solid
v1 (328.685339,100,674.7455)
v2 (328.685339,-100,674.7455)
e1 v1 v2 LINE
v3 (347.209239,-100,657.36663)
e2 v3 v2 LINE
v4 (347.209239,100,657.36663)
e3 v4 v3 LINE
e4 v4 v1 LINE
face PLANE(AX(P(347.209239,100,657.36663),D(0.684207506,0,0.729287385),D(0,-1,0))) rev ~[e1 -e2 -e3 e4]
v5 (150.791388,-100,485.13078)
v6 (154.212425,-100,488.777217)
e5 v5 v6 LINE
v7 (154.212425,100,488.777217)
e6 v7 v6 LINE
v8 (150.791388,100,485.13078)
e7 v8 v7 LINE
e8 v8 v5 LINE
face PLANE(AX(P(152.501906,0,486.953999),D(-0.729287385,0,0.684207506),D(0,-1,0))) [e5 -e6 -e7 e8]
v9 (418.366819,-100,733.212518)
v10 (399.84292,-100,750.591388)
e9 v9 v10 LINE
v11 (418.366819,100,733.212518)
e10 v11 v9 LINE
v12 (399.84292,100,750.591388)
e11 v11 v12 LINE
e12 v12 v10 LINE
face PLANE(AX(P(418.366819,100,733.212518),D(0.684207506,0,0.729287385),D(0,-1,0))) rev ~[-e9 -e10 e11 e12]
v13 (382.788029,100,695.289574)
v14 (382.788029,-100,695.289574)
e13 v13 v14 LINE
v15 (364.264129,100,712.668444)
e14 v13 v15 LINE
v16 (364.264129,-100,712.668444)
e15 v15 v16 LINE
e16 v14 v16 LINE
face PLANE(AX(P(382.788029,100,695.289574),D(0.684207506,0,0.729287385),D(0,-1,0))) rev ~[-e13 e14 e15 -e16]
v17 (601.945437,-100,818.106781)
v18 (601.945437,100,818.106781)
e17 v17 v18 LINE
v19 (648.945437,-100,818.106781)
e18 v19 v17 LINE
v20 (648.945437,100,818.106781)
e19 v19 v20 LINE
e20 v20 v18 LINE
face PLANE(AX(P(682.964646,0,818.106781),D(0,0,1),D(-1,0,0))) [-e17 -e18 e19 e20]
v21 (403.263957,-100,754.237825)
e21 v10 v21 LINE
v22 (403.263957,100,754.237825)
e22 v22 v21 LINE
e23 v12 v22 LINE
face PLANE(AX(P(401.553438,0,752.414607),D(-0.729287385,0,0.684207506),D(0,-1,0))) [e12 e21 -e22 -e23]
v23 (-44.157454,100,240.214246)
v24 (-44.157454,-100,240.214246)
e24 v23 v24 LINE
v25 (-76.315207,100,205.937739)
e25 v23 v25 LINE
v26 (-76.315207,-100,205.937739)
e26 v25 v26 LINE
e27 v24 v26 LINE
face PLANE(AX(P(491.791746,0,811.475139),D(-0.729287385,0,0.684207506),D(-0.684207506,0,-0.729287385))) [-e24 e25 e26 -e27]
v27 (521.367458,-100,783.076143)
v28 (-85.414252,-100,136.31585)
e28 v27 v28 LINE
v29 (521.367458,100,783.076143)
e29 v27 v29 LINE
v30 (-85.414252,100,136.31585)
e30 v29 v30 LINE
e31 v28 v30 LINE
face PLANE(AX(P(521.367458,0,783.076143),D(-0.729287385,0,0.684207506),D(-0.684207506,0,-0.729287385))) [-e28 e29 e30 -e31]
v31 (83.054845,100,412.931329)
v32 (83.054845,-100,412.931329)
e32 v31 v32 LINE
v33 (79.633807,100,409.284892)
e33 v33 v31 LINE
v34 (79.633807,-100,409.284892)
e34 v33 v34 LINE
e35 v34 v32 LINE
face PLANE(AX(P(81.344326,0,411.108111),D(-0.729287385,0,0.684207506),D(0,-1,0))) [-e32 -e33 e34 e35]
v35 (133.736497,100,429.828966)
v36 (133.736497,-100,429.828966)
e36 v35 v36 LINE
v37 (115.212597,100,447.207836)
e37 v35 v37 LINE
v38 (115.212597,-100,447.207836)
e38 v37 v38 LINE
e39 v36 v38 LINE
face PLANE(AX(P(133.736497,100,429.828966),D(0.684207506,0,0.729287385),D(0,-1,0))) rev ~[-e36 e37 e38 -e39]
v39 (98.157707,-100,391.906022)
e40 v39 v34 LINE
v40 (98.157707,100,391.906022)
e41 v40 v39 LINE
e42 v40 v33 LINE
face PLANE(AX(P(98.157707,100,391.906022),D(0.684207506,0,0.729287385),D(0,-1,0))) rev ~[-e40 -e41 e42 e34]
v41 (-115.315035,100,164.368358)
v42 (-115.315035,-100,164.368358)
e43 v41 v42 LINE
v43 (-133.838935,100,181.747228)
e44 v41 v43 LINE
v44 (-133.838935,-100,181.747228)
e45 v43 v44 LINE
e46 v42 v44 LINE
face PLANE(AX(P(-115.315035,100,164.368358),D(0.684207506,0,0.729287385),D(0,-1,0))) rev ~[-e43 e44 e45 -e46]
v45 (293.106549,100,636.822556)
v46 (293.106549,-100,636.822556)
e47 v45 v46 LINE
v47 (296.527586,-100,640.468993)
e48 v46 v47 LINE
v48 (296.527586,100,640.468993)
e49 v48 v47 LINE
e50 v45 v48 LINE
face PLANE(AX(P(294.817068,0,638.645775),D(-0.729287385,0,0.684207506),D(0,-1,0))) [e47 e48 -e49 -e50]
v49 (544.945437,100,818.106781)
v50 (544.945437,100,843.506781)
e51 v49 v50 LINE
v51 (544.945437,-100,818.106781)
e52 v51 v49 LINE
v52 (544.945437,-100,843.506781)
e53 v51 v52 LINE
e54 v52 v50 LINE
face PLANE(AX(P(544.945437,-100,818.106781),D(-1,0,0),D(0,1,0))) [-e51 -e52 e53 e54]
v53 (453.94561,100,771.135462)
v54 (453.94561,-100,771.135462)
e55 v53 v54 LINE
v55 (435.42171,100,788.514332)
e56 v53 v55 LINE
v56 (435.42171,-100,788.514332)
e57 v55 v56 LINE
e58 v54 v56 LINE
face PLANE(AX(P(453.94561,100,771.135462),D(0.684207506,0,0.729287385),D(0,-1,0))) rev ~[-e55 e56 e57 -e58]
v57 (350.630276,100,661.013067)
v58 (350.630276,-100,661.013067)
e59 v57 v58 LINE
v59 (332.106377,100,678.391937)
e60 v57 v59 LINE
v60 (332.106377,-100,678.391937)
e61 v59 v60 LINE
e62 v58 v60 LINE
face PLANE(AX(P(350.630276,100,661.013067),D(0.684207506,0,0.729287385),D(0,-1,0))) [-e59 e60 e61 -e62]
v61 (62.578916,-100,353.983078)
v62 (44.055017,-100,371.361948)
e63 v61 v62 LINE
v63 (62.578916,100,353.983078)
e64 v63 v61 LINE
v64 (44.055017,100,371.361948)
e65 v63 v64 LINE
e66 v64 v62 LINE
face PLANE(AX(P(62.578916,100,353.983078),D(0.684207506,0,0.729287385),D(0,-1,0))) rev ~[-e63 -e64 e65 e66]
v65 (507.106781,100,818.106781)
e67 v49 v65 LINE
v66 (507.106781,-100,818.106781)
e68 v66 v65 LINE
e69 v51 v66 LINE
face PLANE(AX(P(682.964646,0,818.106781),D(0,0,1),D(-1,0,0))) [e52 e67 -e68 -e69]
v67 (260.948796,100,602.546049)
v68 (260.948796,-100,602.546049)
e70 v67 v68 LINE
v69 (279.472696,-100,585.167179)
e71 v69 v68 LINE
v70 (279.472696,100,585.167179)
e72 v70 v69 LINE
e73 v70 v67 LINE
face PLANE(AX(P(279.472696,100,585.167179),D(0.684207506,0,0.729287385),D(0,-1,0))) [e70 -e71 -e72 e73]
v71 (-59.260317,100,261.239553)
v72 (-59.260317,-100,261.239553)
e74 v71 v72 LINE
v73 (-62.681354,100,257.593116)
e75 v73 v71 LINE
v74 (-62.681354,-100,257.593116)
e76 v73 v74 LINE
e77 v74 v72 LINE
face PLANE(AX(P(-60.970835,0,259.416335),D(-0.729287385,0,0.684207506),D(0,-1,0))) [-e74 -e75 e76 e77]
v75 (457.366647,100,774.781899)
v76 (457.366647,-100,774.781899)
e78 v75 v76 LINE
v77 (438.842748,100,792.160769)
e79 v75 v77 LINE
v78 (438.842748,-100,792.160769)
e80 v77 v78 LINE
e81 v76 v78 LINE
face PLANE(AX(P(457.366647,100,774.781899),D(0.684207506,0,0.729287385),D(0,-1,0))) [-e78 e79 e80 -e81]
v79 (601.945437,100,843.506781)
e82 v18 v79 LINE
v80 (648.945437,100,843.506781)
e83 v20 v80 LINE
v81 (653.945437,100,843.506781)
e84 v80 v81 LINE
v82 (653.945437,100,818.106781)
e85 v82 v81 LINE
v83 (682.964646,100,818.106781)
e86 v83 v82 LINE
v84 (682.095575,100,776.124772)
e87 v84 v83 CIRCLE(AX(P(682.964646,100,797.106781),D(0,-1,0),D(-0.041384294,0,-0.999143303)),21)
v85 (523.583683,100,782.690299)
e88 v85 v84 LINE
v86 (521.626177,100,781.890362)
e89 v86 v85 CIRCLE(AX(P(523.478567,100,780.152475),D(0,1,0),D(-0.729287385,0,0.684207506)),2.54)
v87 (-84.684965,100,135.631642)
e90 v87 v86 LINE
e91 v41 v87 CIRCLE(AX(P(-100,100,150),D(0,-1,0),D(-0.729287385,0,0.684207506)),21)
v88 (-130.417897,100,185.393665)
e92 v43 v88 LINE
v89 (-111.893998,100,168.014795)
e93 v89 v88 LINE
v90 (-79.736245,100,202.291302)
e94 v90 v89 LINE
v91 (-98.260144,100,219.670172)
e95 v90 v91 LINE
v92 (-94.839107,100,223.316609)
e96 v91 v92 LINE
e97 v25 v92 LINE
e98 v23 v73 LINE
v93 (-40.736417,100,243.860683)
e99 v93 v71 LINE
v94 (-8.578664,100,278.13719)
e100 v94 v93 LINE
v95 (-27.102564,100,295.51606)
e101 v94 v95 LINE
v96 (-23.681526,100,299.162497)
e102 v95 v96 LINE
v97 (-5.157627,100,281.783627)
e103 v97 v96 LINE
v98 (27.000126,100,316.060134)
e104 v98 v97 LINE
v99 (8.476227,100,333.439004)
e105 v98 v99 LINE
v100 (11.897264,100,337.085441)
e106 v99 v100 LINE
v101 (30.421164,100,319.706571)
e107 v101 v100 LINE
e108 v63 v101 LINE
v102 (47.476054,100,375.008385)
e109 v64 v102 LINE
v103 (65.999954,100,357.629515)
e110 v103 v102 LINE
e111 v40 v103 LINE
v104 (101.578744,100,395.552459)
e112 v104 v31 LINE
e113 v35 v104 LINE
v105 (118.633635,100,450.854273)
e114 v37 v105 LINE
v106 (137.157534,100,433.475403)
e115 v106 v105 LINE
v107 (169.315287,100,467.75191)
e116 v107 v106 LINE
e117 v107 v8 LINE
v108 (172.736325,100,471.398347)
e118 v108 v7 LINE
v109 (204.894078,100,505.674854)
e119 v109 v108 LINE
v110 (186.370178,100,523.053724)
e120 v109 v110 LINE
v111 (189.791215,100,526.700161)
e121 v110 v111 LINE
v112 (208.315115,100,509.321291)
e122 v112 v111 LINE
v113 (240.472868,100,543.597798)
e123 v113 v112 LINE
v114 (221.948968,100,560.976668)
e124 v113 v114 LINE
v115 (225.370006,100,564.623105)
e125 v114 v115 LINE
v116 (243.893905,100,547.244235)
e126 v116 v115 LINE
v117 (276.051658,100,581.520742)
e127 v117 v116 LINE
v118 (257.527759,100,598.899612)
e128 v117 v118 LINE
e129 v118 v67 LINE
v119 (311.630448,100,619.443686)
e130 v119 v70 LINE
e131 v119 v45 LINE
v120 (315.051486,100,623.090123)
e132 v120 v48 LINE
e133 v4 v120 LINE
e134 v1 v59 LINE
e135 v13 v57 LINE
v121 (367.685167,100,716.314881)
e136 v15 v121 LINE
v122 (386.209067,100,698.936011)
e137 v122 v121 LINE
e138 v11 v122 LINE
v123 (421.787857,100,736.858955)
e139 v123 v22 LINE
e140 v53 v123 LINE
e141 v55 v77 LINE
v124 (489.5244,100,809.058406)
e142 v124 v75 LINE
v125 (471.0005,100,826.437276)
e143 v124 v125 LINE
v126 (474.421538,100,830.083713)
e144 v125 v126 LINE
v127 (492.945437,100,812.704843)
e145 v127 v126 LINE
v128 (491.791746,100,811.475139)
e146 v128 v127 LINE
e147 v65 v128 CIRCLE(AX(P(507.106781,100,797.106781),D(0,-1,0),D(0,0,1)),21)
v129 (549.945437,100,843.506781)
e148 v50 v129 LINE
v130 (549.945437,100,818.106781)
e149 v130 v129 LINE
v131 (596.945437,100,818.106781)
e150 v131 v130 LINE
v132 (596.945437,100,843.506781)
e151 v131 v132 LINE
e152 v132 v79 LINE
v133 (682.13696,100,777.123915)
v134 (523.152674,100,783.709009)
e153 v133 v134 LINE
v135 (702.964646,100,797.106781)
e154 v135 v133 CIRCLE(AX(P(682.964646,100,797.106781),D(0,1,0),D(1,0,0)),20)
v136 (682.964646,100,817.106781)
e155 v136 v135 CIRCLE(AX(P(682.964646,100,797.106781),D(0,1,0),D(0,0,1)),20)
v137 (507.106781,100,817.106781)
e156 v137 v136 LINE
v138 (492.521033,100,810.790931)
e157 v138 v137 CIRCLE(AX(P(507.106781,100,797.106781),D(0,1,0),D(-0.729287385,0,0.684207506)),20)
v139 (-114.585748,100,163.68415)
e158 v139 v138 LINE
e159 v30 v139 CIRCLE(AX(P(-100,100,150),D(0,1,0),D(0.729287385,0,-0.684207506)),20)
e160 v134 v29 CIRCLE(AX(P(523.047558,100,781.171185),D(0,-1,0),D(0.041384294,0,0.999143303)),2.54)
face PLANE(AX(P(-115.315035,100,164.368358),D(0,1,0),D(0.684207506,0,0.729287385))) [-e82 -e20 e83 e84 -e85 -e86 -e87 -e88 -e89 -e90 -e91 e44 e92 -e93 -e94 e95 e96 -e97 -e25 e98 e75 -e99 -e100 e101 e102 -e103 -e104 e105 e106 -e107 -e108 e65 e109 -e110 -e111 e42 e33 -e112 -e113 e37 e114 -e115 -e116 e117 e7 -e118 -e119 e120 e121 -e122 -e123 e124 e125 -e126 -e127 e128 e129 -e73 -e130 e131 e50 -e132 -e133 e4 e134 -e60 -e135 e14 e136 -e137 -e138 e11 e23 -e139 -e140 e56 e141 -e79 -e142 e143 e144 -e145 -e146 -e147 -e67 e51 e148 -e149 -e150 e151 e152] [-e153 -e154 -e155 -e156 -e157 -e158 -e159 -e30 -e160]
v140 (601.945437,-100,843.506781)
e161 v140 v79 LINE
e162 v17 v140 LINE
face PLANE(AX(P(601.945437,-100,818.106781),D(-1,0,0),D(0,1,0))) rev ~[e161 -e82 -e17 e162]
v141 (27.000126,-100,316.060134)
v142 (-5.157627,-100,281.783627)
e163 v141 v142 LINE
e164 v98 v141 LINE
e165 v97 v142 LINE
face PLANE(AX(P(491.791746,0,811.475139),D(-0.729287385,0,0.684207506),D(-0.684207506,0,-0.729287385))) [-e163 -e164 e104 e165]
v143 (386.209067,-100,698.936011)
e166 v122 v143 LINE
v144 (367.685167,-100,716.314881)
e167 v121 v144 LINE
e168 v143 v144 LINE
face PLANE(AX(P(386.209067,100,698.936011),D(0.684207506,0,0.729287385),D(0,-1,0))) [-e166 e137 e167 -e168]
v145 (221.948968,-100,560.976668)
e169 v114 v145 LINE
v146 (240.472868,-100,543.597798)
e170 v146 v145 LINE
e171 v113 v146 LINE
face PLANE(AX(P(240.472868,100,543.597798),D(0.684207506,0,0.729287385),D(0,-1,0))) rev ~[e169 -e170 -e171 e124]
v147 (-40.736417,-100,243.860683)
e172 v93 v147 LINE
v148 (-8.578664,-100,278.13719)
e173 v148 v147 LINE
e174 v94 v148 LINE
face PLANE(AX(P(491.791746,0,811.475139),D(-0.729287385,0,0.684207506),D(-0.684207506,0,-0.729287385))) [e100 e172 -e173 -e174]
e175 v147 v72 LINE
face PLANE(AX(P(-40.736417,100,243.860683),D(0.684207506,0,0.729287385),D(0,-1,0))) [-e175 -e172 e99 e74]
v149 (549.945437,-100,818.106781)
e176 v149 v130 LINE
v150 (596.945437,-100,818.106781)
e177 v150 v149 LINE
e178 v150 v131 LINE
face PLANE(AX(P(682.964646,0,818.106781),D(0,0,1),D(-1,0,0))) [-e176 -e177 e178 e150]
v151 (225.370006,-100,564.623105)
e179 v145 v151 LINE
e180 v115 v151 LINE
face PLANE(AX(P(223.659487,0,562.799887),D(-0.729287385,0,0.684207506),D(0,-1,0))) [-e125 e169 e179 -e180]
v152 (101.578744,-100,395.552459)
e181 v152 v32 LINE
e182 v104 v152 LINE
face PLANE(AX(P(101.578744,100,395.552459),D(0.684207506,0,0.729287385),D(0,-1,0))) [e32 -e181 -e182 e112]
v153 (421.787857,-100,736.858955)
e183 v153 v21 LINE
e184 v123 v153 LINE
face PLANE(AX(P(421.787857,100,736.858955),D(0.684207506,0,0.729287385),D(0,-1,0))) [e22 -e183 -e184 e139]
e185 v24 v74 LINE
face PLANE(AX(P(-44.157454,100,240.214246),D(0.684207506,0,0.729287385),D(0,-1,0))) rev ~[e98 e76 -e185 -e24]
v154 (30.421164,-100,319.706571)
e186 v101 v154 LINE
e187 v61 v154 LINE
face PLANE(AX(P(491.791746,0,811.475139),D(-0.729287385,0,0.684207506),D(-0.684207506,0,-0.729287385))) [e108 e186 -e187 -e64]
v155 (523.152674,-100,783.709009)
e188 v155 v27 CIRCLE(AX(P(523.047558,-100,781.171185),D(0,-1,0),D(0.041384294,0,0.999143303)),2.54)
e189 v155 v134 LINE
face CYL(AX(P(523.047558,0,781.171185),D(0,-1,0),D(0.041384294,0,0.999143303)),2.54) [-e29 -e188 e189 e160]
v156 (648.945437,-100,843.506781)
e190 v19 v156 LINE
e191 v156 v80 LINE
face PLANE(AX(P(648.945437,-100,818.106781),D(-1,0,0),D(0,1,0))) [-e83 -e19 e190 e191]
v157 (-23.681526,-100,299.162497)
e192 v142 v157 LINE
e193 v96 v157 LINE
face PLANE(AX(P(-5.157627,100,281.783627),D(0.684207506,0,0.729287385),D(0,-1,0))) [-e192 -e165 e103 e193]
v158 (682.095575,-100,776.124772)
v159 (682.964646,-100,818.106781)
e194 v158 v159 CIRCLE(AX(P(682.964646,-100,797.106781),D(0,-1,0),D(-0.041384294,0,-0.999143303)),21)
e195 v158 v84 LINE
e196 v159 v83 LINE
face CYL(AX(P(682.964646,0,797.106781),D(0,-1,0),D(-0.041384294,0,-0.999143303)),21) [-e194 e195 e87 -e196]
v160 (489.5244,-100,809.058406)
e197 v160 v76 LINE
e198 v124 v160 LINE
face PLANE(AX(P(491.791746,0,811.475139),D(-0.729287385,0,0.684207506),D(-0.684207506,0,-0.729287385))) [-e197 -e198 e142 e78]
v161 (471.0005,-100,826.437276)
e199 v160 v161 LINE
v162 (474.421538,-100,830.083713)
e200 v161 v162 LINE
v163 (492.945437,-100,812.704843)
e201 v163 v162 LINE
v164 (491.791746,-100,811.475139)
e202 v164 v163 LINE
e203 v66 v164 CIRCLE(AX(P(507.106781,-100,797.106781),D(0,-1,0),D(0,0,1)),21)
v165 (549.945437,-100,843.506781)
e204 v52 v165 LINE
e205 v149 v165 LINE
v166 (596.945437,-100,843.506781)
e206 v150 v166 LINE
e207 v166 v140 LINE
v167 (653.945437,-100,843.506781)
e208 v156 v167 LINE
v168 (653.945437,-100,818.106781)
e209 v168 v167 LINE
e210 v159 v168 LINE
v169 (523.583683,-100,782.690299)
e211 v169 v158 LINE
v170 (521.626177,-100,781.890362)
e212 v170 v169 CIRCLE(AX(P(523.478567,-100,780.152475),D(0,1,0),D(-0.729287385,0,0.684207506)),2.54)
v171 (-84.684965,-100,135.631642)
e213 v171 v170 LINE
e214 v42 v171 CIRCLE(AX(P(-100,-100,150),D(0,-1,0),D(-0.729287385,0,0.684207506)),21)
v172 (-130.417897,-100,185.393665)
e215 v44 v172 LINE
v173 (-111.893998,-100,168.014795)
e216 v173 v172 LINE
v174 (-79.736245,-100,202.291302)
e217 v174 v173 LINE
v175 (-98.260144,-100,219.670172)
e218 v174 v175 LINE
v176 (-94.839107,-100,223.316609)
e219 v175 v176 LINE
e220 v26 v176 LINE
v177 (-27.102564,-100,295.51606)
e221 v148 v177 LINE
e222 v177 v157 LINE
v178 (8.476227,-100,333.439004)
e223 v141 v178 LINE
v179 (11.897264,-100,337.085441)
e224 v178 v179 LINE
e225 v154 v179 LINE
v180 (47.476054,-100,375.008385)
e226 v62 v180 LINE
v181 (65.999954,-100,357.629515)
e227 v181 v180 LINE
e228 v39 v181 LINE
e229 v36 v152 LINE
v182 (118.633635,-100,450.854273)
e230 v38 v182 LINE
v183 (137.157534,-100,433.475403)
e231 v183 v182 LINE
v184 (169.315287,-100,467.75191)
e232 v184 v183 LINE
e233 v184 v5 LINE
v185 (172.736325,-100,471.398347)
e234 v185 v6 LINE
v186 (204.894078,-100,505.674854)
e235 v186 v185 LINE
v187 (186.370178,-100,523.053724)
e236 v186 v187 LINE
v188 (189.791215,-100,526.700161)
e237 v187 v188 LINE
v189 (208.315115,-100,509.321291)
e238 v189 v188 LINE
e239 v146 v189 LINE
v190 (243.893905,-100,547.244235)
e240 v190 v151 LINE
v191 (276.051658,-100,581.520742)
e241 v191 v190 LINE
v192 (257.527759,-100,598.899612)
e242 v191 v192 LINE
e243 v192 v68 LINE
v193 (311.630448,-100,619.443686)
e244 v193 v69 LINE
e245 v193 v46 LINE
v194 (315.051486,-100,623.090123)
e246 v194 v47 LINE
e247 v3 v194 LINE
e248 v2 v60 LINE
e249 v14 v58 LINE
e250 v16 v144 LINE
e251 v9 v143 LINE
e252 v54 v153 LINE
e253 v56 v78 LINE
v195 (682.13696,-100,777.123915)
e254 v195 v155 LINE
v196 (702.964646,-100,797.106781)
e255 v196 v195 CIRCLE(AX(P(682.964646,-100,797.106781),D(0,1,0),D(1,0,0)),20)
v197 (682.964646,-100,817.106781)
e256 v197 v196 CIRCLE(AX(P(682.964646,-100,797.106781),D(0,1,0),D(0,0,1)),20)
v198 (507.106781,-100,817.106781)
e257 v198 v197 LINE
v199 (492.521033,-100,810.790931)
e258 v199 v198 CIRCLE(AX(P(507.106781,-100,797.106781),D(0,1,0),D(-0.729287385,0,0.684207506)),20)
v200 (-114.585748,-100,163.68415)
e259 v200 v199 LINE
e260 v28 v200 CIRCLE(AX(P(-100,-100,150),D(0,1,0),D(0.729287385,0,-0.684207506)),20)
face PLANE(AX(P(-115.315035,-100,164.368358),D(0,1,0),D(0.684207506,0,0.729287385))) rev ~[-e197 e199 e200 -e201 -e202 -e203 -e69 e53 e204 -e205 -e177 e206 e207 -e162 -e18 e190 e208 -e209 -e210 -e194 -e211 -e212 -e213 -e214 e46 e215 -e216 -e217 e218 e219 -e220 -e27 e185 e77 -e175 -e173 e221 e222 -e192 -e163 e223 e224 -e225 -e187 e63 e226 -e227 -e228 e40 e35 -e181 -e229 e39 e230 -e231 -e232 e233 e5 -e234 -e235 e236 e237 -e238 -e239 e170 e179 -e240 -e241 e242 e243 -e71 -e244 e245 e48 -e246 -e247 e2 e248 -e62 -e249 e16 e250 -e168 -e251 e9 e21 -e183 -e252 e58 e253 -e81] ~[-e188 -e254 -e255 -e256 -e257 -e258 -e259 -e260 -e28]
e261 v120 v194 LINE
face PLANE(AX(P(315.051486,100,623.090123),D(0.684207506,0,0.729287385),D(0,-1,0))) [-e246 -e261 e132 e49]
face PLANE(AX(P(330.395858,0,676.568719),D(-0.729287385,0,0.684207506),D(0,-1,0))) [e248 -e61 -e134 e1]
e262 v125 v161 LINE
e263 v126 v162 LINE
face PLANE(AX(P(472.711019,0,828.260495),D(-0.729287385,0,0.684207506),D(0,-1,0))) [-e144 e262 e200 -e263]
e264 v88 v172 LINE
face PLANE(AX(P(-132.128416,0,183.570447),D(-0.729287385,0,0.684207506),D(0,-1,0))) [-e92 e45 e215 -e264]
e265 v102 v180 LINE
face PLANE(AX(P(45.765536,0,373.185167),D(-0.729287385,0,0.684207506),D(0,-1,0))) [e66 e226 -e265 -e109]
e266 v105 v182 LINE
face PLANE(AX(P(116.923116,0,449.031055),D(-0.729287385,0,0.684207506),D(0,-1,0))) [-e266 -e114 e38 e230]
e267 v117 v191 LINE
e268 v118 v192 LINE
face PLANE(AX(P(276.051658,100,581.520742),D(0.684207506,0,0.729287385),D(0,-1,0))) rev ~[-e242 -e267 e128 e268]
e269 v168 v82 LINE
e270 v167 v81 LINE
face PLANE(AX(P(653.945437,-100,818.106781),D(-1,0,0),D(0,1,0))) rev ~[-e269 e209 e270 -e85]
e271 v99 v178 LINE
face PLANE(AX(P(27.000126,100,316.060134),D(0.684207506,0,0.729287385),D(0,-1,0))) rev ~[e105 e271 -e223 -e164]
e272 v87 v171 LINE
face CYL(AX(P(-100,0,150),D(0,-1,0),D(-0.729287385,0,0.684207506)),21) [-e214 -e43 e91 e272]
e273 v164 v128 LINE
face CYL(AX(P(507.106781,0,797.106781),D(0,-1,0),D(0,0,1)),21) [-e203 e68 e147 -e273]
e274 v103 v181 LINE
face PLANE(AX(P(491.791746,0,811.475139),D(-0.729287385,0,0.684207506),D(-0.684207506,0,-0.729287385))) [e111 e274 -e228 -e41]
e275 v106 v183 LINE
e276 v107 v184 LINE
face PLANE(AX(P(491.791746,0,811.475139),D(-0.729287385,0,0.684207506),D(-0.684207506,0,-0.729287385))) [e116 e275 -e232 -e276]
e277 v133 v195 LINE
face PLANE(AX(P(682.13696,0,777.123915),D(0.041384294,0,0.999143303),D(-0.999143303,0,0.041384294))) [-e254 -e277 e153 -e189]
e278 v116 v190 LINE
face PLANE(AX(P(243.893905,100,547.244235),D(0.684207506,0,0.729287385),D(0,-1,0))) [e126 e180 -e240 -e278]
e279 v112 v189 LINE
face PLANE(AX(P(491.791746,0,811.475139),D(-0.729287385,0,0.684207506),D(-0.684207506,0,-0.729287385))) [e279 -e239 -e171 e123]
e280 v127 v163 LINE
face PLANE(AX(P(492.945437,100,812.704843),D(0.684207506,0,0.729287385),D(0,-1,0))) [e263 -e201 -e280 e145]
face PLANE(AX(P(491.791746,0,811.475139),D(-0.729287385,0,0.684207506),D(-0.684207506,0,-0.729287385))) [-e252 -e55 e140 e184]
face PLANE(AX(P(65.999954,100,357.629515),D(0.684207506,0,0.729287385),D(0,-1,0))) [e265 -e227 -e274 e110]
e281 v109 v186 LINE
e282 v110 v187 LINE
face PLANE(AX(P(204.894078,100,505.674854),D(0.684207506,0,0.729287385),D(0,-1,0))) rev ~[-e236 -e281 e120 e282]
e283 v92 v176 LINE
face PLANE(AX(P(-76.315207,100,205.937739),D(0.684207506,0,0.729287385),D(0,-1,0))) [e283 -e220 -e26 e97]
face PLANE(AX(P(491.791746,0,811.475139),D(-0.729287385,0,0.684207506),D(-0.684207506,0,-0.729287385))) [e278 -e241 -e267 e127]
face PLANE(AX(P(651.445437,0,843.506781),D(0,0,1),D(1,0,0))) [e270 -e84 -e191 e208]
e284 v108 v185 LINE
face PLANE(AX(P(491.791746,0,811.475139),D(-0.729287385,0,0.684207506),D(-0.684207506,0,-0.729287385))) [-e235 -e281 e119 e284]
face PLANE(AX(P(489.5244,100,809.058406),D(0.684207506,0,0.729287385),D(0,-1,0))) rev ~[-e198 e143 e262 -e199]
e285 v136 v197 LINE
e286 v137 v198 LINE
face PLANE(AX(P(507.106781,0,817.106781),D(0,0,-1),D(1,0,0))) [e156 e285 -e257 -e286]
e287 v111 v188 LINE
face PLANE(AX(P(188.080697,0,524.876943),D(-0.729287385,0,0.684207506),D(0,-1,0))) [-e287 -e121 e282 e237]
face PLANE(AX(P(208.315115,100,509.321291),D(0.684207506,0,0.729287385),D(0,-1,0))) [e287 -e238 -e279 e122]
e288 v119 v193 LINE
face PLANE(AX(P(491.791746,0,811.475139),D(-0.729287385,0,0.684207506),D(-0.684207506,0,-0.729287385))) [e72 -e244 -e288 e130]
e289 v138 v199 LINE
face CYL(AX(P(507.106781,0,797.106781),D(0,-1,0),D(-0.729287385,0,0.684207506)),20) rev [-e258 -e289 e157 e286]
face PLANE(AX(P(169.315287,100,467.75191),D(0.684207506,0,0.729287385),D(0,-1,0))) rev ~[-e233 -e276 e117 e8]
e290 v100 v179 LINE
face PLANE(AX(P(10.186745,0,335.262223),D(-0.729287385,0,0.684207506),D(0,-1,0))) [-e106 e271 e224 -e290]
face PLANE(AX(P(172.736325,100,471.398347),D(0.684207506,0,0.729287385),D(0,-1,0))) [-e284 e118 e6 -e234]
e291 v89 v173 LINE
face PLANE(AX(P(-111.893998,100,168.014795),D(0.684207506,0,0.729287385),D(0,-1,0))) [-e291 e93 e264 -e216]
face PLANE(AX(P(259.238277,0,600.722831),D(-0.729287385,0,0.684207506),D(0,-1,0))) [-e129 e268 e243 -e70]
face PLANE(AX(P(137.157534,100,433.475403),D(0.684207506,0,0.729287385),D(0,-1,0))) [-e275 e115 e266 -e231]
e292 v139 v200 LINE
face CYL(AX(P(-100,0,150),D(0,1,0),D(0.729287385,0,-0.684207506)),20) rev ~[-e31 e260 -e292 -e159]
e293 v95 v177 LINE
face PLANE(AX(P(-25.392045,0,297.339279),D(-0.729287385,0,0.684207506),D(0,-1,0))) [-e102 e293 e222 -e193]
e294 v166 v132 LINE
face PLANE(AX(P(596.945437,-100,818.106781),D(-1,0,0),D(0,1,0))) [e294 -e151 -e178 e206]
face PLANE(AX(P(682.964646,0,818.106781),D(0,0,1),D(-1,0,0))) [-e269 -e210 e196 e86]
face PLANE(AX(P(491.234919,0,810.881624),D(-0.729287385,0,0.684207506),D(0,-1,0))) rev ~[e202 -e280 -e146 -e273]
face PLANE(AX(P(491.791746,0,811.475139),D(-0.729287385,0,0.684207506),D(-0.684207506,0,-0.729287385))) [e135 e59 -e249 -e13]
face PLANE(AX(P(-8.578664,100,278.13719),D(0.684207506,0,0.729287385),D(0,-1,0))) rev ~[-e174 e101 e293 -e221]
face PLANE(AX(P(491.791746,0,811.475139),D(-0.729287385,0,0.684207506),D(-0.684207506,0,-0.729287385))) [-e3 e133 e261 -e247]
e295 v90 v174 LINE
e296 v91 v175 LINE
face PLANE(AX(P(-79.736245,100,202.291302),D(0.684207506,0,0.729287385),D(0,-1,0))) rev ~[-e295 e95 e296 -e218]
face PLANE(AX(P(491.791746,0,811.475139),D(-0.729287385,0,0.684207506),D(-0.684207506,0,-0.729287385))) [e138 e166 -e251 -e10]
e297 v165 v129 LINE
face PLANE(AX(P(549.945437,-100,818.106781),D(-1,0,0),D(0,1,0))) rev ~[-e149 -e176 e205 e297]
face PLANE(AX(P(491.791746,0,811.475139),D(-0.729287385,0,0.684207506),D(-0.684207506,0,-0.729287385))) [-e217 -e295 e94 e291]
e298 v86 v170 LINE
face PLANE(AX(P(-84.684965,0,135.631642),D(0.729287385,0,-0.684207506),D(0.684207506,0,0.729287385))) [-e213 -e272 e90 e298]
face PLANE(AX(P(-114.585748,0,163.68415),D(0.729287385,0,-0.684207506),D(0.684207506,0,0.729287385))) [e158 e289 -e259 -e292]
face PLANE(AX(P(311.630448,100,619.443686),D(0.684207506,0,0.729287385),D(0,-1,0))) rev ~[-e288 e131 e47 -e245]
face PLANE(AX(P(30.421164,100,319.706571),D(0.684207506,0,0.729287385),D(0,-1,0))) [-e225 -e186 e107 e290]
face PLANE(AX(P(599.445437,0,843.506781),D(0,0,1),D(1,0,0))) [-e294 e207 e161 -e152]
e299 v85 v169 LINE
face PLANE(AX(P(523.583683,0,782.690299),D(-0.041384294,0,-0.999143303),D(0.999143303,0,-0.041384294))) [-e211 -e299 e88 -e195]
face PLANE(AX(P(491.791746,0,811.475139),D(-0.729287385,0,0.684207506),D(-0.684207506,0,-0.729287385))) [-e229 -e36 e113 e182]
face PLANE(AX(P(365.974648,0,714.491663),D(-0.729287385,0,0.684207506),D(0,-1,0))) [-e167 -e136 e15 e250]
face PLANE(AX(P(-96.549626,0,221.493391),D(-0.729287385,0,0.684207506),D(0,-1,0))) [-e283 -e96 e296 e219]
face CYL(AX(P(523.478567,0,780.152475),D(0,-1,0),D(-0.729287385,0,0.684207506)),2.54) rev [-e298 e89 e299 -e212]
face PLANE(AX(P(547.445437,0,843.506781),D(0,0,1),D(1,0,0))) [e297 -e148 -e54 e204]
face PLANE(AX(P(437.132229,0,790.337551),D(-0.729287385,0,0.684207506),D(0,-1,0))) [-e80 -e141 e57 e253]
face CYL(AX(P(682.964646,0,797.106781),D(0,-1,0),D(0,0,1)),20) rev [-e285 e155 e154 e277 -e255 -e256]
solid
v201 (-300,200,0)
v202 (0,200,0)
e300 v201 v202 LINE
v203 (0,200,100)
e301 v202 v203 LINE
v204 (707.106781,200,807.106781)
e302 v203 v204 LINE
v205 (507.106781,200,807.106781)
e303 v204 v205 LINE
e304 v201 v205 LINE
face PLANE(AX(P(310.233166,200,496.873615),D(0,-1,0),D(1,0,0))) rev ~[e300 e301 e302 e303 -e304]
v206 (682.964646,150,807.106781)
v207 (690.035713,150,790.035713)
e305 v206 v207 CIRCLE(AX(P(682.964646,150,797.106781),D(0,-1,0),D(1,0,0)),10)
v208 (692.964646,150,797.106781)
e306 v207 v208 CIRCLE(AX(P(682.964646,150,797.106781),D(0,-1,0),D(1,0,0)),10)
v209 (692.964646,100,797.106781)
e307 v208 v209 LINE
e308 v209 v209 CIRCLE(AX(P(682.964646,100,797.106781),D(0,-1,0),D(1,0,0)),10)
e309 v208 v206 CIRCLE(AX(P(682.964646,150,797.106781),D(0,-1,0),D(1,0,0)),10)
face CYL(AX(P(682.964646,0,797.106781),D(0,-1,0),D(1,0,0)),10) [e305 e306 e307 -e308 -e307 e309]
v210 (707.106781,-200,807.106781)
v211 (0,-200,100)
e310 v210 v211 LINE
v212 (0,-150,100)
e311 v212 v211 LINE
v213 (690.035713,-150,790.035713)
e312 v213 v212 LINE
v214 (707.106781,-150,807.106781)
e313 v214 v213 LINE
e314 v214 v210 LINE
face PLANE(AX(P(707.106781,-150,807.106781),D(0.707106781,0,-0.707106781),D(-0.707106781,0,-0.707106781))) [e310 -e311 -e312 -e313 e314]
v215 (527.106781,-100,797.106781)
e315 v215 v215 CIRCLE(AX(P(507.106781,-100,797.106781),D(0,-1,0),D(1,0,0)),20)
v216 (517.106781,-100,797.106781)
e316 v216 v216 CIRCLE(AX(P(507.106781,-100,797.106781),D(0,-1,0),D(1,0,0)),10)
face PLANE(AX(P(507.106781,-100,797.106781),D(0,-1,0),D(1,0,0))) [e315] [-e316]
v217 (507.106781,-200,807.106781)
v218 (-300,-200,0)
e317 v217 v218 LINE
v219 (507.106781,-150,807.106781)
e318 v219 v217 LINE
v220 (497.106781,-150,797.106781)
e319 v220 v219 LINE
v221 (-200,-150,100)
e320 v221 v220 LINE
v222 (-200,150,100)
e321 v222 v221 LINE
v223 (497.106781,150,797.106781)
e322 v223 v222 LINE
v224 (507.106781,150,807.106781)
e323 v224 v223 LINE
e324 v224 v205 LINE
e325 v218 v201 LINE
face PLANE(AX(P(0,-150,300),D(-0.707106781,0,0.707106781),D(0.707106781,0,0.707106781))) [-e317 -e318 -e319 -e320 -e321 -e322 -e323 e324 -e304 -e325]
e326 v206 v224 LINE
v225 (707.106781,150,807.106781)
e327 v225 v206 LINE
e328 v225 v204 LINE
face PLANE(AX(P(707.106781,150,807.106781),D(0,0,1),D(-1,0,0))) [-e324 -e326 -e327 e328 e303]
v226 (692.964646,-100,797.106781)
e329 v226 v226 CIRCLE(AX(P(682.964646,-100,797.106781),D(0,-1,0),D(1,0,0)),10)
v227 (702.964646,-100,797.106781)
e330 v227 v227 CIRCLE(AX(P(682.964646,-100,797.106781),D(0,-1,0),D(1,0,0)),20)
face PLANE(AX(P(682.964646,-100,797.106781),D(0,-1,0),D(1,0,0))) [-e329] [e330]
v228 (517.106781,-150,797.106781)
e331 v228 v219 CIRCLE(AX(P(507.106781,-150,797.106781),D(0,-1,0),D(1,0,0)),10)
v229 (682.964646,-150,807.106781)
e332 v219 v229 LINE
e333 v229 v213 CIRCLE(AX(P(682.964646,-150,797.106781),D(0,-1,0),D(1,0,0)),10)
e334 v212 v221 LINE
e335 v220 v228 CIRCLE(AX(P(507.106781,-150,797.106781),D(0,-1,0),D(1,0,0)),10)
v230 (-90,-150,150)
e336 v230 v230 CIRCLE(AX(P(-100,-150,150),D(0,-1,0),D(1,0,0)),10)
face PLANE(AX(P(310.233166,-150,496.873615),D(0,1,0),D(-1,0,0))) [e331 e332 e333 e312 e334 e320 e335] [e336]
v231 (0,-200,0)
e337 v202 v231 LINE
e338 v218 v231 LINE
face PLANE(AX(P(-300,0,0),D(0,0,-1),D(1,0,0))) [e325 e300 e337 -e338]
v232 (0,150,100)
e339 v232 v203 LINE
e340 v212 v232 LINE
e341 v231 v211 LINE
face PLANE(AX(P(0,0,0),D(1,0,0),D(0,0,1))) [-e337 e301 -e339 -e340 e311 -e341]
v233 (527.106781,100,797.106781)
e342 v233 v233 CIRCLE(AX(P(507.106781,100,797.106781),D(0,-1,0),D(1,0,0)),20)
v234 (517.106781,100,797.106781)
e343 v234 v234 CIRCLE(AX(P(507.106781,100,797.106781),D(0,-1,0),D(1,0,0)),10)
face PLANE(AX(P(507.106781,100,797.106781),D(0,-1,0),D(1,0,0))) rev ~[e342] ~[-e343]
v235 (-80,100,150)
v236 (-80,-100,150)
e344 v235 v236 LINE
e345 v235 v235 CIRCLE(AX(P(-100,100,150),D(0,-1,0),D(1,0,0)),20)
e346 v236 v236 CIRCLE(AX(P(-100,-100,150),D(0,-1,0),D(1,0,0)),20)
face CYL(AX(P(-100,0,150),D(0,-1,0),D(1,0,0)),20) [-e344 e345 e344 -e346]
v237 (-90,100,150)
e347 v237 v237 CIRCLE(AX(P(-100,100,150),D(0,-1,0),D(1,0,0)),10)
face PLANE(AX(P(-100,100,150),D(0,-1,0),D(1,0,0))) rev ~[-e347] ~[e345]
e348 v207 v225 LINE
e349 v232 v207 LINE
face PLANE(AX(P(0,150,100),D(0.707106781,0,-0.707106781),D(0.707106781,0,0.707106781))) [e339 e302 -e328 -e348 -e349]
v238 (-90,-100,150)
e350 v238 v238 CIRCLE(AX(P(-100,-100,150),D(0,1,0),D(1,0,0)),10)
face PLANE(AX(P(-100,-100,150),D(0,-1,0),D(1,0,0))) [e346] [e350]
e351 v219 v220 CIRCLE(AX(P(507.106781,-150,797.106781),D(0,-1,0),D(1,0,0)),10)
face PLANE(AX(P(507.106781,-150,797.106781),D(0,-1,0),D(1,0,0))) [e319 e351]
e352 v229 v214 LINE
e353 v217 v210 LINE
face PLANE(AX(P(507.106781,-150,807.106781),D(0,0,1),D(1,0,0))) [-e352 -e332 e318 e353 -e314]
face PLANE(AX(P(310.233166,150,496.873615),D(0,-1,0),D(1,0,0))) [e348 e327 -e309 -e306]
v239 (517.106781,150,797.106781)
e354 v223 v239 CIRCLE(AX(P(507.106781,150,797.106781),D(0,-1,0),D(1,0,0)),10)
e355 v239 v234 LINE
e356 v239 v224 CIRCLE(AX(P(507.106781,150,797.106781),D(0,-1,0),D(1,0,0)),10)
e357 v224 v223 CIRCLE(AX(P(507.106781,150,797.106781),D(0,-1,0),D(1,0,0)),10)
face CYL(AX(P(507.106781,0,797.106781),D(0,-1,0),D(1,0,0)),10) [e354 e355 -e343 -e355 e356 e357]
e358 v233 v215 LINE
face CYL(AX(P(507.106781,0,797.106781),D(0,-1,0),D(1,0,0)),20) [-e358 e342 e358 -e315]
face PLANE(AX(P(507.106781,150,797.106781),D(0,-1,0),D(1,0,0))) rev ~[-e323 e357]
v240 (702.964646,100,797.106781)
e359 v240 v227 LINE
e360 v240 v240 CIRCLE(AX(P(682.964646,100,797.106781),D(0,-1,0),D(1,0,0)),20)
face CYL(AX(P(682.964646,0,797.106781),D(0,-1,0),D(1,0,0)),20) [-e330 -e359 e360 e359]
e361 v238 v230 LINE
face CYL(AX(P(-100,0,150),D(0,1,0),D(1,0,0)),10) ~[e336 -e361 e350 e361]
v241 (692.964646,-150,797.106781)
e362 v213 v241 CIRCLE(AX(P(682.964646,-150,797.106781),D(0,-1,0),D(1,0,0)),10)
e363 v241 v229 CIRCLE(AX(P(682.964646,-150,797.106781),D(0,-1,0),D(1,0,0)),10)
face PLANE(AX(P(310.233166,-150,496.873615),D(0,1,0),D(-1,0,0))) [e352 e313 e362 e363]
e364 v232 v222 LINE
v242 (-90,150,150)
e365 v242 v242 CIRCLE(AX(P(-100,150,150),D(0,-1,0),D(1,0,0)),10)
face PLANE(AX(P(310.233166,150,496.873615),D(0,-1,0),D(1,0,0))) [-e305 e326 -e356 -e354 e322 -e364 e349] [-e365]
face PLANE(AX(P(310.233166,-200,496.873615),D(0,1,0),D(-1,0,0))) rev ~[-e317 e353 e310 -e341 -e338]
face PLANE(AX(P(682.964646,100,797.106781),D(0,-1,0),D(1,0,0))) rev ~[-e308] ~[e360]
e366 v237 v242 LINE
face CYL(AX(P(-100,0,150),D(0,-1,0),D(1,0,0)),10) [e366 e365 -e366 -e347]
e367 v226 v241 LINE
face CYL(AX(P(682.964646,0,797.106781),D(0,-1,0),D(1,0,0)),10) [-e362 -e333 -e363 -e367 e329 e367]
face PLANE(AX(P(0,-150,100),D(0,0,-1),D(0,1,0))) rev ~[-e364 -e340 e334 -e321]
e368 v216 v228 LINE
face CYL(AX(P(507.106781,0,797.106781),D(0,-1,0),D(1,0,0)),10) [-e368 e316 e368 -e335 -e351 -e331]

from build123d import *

# Parameters (mm, degrees)
F1_DEPTH  = 200
F2_W      = 300
F2_H      = 200
F3_DEPTH  = 228.6
F5_DEPTH  = 50
F7_DEPTH  = 50
F8_R      = 10
F9_DEPTH  = 150
F10_R     = 20
F11_DEPTH = 100
F12_R     = 10
F13_DEPTH = 150
F14_R     = 20
F15_DEPTH = 100
F17_DEPTH = 100
F18_W     = 200
F18_H     = 5
F19_DEPTH = 25.4
F20_W     = 5
F20_H     = 200
F21_DEPTH = 25.4


with BuildPart() as f1:
    # F0 (on Front) → F1 (new body, symmetric)
    with BuildSketch(Plane.XZ):
        Polygon((-300, 0), (0, 0), (0, 300), align=None)
    extrude(amount=F1_DEPTH, both=True)

    # F2 (on face) → F3 (cut)
    with BuildSketch(Plane.YZ):
        with Locations((0, 200)):
            Rectangle(F2_W, F2_H)
    extrude(amount=-F3_DEPTH, mode=Mode.SUBTRACT)

    # F4 (on face) → F5 (join, through all)
    with BuildSketch(Plane.XZ.offset(-150)):
        Polygon((0, 300), (0, 100), (707.1067811865, 807.1067811865), (507.1067811865, 807.1067811865), align=None)
    extrude(amount=-F5_DEPTH)

    # F6 (on face) → F7 (join, through all)
    with BuildSketch(Plane(origin=(0, -150, 0), x_dir=(-1, 0, 0), z_dir=(0, 1, 0))):
        Polygon((-707.1067811865, 807.1067811865), (0, 100), (0, 300), (-507.1067811865, 807.1067811865), align=None)
    extrude(amount=-F7_DEPTH)

    # F8 (on Front) → F9 (join, symmetric)
    with BuildSketch(Plane.XZ):
        with Locations((682.9646455628, 797.1067811865)):
            Circle(F8_R)
    extrude(amount=F9_DEPTH, both=True)

    # F10 (on Front) → F11 (join, symmetric)
    with BuildSketch(Plane.XZ):
        with Locations((682.9646455628, 797.1067811865)):
            Circle(F10_R)
    extrude(amount=F11_DEPTH, both=True)

    # F12 (on Front) → F13 (join, symmetric)
    with BuildSketch(Plane.XZ):
        with Locations((-100, 150)):
            Circle(F12_R)
        with Locations((507.1067811865, 797.1067811865)):
            Circle(F12_R)
    extrude(amount=F13_DEPTH, both=True)

    # F14 (on Front) → F15 (join, symmetric)
    with BuildSketch(Plane.XZ):
        with Locations((-100, 150)):
            Circle(F14_R)
        with Locations((507.1067811865, 797.1067811865)):
            Circle(F14_R)
    extrude(amount=F15_DEPTH, both=True)


with BuildPart() as f17:
    # F16 (on Front) → F17 (new body, symmetric)
    with BuildSketch(Plane.XZ):
        with BuildLine():
            Line((491.7917461106, 811.475138804), (-115.315035076, 164.3683576174))
            ThreePointArc((-115.315035076, 164.3683576174), (-114.3683576174, 134.684964924), (-84.684964924, 135.6316423826))
            Line((-84.684964924, 135.6316423826), (521.6261767947, 781.8903623862))
            ThreePointArc((521.6261767947, 781.8903623862), (522.5177253248, 782.5037268511), (523.5836828593, 782.690299312))
            Line((523.5836828593, 782.690299312), (682.0955753807, 776.1247718209))
            ThreePointArc((682.0955753807, 776.1247718209), (703.9601474225, 796.6721529993), (682.9646455628, 818.1067811865))
            Line((682.9646455628, 818.1067811865), (507.1067811865, 818.1067811865))
            ThreePointArc((507.1067811865, 818.1067811865), (498.7621874267, 816.3776855499), (491.7917461106, 811.475138804))
        make_face()
        with BuildLine():
            ThreePointArc((-85.4142523086, 136.3158498882), (-113.6841501118, 135.4142523086), (-114.5857476914, 163.6841501118))
            Line((-114.5857476914, 163.6841501118), (492.5210334951, 810.7909312984))
            ThreePointArc((492.5210334951, 810.7909312984), (499.1595490343, 815.4600234374), (507.1067811865, 817.1067811865))
            Line((507.1067811865, 817.1067811865), (682.9646455628, 817.1067811865))
            ThreePointArc((682.9646455628, 817.1067811865), (697.1067811865, 811.2489168103), (702.9646455628, 797.1067811865))
            ThreePointArc((702.9646455628, 797.1067811865), (696.8110581351, 782.6749809219), (682.1369596751, 777.1239151241))
            Line((682.1369596751, 777.1239151241), (523.1526744106, 783.7090090179))
            ThreePointArc((523.1526744106, 783.7090090179), (522.1988688728, 783.5652038774), (521.3674580584, 783.0761425521))
            Line((521.3674580584, 783.0761425521), (-85.4142523086, 136.3158498882))
        make_face(mode=Mode.SUBTRACT)
    extrude(amount=F17_DEPTH, both=True)

    # F18 (on face) → F19 (join)
    with BuildSketch(Plane(origin=(-143.3486293437, 0, 134.4877344489), x_dir=(0, -1, 0), z_dir=(-0.7292873846, 0, 0.6842075056))):
        with Locations((0, 43.4723571265)):
            Rectangle(F18_W, F18_H)
        with Locations((0, 95.4723571265)):
            Rectangle(F18_W, F18_H)
        with Locations((0, 147.4723571265)):
            Rectangle(F18_W, F18_H)
        with Locations((0, 199.4723571265)):
            Rectangle(F18_W, F18_H)
        with Locations((0, 251.4723571265)):
            Rectangle(F18_W, F18_H)
        with Locations((0, 303.4723571265)):
            Rectangle(F18_W, F18_H)
        with Locations((0, 355.4723571265)):
            Rectangle(F18_W, F18_H)
        with Locations((0, 407.4723571265)):
            Rectangle(F18_W, F18_H)
        with Locations((0, 459.4723571265)):
            Rectangle(F18_W, F18_H)
        with Locations((0, 511.4723571265)):
            Rectangle(F18_W, F18_H)
        with Locations((0, 563.4723571265)):
            Rectangle(F18_W, F18_H)
        with Locations((0, 615.4723571265)):
            Rectangle(F18_W, F18_H)
        with Locations((0, 667.4723571265)):
            Rectangle(F18_W, F18_H)
        with Locations((0, 719.4723571265)):
            Rectangle(F18_W, F18_H)
        with Locations((0, 771.4723571265)):
            Rectangle(F18_W, F18_H)
        with Locations((0, 823.4723571265)):
            Rectangle(F18_W, F18_H)
        with Locations((0, 875.4723571265)):
            Rectangle(F18_W, F18_H)
        with Locations((0, 927.4723571265)):
            Rectangle(F18_W, F18_H)
    extrude(amount=F19_DEPTH)

    # F20 (on face) → F21 (join)
    with BuildSketch(Plane.XY.offset(818.1067811865)):
        with Locations((547.4454373941, 0)):
            Rectangle(F20_W, F20_H)
        with Locations((599.4454373941, 0)):
            Rectangle(F20_W, F20_H)
        with Locations((651.4454373941, 0)):
            Rectangle(F20_W, F20_H)
    extrude(amount=F21_DEPTH)


solid = Compound([f1.part, f17.part])
